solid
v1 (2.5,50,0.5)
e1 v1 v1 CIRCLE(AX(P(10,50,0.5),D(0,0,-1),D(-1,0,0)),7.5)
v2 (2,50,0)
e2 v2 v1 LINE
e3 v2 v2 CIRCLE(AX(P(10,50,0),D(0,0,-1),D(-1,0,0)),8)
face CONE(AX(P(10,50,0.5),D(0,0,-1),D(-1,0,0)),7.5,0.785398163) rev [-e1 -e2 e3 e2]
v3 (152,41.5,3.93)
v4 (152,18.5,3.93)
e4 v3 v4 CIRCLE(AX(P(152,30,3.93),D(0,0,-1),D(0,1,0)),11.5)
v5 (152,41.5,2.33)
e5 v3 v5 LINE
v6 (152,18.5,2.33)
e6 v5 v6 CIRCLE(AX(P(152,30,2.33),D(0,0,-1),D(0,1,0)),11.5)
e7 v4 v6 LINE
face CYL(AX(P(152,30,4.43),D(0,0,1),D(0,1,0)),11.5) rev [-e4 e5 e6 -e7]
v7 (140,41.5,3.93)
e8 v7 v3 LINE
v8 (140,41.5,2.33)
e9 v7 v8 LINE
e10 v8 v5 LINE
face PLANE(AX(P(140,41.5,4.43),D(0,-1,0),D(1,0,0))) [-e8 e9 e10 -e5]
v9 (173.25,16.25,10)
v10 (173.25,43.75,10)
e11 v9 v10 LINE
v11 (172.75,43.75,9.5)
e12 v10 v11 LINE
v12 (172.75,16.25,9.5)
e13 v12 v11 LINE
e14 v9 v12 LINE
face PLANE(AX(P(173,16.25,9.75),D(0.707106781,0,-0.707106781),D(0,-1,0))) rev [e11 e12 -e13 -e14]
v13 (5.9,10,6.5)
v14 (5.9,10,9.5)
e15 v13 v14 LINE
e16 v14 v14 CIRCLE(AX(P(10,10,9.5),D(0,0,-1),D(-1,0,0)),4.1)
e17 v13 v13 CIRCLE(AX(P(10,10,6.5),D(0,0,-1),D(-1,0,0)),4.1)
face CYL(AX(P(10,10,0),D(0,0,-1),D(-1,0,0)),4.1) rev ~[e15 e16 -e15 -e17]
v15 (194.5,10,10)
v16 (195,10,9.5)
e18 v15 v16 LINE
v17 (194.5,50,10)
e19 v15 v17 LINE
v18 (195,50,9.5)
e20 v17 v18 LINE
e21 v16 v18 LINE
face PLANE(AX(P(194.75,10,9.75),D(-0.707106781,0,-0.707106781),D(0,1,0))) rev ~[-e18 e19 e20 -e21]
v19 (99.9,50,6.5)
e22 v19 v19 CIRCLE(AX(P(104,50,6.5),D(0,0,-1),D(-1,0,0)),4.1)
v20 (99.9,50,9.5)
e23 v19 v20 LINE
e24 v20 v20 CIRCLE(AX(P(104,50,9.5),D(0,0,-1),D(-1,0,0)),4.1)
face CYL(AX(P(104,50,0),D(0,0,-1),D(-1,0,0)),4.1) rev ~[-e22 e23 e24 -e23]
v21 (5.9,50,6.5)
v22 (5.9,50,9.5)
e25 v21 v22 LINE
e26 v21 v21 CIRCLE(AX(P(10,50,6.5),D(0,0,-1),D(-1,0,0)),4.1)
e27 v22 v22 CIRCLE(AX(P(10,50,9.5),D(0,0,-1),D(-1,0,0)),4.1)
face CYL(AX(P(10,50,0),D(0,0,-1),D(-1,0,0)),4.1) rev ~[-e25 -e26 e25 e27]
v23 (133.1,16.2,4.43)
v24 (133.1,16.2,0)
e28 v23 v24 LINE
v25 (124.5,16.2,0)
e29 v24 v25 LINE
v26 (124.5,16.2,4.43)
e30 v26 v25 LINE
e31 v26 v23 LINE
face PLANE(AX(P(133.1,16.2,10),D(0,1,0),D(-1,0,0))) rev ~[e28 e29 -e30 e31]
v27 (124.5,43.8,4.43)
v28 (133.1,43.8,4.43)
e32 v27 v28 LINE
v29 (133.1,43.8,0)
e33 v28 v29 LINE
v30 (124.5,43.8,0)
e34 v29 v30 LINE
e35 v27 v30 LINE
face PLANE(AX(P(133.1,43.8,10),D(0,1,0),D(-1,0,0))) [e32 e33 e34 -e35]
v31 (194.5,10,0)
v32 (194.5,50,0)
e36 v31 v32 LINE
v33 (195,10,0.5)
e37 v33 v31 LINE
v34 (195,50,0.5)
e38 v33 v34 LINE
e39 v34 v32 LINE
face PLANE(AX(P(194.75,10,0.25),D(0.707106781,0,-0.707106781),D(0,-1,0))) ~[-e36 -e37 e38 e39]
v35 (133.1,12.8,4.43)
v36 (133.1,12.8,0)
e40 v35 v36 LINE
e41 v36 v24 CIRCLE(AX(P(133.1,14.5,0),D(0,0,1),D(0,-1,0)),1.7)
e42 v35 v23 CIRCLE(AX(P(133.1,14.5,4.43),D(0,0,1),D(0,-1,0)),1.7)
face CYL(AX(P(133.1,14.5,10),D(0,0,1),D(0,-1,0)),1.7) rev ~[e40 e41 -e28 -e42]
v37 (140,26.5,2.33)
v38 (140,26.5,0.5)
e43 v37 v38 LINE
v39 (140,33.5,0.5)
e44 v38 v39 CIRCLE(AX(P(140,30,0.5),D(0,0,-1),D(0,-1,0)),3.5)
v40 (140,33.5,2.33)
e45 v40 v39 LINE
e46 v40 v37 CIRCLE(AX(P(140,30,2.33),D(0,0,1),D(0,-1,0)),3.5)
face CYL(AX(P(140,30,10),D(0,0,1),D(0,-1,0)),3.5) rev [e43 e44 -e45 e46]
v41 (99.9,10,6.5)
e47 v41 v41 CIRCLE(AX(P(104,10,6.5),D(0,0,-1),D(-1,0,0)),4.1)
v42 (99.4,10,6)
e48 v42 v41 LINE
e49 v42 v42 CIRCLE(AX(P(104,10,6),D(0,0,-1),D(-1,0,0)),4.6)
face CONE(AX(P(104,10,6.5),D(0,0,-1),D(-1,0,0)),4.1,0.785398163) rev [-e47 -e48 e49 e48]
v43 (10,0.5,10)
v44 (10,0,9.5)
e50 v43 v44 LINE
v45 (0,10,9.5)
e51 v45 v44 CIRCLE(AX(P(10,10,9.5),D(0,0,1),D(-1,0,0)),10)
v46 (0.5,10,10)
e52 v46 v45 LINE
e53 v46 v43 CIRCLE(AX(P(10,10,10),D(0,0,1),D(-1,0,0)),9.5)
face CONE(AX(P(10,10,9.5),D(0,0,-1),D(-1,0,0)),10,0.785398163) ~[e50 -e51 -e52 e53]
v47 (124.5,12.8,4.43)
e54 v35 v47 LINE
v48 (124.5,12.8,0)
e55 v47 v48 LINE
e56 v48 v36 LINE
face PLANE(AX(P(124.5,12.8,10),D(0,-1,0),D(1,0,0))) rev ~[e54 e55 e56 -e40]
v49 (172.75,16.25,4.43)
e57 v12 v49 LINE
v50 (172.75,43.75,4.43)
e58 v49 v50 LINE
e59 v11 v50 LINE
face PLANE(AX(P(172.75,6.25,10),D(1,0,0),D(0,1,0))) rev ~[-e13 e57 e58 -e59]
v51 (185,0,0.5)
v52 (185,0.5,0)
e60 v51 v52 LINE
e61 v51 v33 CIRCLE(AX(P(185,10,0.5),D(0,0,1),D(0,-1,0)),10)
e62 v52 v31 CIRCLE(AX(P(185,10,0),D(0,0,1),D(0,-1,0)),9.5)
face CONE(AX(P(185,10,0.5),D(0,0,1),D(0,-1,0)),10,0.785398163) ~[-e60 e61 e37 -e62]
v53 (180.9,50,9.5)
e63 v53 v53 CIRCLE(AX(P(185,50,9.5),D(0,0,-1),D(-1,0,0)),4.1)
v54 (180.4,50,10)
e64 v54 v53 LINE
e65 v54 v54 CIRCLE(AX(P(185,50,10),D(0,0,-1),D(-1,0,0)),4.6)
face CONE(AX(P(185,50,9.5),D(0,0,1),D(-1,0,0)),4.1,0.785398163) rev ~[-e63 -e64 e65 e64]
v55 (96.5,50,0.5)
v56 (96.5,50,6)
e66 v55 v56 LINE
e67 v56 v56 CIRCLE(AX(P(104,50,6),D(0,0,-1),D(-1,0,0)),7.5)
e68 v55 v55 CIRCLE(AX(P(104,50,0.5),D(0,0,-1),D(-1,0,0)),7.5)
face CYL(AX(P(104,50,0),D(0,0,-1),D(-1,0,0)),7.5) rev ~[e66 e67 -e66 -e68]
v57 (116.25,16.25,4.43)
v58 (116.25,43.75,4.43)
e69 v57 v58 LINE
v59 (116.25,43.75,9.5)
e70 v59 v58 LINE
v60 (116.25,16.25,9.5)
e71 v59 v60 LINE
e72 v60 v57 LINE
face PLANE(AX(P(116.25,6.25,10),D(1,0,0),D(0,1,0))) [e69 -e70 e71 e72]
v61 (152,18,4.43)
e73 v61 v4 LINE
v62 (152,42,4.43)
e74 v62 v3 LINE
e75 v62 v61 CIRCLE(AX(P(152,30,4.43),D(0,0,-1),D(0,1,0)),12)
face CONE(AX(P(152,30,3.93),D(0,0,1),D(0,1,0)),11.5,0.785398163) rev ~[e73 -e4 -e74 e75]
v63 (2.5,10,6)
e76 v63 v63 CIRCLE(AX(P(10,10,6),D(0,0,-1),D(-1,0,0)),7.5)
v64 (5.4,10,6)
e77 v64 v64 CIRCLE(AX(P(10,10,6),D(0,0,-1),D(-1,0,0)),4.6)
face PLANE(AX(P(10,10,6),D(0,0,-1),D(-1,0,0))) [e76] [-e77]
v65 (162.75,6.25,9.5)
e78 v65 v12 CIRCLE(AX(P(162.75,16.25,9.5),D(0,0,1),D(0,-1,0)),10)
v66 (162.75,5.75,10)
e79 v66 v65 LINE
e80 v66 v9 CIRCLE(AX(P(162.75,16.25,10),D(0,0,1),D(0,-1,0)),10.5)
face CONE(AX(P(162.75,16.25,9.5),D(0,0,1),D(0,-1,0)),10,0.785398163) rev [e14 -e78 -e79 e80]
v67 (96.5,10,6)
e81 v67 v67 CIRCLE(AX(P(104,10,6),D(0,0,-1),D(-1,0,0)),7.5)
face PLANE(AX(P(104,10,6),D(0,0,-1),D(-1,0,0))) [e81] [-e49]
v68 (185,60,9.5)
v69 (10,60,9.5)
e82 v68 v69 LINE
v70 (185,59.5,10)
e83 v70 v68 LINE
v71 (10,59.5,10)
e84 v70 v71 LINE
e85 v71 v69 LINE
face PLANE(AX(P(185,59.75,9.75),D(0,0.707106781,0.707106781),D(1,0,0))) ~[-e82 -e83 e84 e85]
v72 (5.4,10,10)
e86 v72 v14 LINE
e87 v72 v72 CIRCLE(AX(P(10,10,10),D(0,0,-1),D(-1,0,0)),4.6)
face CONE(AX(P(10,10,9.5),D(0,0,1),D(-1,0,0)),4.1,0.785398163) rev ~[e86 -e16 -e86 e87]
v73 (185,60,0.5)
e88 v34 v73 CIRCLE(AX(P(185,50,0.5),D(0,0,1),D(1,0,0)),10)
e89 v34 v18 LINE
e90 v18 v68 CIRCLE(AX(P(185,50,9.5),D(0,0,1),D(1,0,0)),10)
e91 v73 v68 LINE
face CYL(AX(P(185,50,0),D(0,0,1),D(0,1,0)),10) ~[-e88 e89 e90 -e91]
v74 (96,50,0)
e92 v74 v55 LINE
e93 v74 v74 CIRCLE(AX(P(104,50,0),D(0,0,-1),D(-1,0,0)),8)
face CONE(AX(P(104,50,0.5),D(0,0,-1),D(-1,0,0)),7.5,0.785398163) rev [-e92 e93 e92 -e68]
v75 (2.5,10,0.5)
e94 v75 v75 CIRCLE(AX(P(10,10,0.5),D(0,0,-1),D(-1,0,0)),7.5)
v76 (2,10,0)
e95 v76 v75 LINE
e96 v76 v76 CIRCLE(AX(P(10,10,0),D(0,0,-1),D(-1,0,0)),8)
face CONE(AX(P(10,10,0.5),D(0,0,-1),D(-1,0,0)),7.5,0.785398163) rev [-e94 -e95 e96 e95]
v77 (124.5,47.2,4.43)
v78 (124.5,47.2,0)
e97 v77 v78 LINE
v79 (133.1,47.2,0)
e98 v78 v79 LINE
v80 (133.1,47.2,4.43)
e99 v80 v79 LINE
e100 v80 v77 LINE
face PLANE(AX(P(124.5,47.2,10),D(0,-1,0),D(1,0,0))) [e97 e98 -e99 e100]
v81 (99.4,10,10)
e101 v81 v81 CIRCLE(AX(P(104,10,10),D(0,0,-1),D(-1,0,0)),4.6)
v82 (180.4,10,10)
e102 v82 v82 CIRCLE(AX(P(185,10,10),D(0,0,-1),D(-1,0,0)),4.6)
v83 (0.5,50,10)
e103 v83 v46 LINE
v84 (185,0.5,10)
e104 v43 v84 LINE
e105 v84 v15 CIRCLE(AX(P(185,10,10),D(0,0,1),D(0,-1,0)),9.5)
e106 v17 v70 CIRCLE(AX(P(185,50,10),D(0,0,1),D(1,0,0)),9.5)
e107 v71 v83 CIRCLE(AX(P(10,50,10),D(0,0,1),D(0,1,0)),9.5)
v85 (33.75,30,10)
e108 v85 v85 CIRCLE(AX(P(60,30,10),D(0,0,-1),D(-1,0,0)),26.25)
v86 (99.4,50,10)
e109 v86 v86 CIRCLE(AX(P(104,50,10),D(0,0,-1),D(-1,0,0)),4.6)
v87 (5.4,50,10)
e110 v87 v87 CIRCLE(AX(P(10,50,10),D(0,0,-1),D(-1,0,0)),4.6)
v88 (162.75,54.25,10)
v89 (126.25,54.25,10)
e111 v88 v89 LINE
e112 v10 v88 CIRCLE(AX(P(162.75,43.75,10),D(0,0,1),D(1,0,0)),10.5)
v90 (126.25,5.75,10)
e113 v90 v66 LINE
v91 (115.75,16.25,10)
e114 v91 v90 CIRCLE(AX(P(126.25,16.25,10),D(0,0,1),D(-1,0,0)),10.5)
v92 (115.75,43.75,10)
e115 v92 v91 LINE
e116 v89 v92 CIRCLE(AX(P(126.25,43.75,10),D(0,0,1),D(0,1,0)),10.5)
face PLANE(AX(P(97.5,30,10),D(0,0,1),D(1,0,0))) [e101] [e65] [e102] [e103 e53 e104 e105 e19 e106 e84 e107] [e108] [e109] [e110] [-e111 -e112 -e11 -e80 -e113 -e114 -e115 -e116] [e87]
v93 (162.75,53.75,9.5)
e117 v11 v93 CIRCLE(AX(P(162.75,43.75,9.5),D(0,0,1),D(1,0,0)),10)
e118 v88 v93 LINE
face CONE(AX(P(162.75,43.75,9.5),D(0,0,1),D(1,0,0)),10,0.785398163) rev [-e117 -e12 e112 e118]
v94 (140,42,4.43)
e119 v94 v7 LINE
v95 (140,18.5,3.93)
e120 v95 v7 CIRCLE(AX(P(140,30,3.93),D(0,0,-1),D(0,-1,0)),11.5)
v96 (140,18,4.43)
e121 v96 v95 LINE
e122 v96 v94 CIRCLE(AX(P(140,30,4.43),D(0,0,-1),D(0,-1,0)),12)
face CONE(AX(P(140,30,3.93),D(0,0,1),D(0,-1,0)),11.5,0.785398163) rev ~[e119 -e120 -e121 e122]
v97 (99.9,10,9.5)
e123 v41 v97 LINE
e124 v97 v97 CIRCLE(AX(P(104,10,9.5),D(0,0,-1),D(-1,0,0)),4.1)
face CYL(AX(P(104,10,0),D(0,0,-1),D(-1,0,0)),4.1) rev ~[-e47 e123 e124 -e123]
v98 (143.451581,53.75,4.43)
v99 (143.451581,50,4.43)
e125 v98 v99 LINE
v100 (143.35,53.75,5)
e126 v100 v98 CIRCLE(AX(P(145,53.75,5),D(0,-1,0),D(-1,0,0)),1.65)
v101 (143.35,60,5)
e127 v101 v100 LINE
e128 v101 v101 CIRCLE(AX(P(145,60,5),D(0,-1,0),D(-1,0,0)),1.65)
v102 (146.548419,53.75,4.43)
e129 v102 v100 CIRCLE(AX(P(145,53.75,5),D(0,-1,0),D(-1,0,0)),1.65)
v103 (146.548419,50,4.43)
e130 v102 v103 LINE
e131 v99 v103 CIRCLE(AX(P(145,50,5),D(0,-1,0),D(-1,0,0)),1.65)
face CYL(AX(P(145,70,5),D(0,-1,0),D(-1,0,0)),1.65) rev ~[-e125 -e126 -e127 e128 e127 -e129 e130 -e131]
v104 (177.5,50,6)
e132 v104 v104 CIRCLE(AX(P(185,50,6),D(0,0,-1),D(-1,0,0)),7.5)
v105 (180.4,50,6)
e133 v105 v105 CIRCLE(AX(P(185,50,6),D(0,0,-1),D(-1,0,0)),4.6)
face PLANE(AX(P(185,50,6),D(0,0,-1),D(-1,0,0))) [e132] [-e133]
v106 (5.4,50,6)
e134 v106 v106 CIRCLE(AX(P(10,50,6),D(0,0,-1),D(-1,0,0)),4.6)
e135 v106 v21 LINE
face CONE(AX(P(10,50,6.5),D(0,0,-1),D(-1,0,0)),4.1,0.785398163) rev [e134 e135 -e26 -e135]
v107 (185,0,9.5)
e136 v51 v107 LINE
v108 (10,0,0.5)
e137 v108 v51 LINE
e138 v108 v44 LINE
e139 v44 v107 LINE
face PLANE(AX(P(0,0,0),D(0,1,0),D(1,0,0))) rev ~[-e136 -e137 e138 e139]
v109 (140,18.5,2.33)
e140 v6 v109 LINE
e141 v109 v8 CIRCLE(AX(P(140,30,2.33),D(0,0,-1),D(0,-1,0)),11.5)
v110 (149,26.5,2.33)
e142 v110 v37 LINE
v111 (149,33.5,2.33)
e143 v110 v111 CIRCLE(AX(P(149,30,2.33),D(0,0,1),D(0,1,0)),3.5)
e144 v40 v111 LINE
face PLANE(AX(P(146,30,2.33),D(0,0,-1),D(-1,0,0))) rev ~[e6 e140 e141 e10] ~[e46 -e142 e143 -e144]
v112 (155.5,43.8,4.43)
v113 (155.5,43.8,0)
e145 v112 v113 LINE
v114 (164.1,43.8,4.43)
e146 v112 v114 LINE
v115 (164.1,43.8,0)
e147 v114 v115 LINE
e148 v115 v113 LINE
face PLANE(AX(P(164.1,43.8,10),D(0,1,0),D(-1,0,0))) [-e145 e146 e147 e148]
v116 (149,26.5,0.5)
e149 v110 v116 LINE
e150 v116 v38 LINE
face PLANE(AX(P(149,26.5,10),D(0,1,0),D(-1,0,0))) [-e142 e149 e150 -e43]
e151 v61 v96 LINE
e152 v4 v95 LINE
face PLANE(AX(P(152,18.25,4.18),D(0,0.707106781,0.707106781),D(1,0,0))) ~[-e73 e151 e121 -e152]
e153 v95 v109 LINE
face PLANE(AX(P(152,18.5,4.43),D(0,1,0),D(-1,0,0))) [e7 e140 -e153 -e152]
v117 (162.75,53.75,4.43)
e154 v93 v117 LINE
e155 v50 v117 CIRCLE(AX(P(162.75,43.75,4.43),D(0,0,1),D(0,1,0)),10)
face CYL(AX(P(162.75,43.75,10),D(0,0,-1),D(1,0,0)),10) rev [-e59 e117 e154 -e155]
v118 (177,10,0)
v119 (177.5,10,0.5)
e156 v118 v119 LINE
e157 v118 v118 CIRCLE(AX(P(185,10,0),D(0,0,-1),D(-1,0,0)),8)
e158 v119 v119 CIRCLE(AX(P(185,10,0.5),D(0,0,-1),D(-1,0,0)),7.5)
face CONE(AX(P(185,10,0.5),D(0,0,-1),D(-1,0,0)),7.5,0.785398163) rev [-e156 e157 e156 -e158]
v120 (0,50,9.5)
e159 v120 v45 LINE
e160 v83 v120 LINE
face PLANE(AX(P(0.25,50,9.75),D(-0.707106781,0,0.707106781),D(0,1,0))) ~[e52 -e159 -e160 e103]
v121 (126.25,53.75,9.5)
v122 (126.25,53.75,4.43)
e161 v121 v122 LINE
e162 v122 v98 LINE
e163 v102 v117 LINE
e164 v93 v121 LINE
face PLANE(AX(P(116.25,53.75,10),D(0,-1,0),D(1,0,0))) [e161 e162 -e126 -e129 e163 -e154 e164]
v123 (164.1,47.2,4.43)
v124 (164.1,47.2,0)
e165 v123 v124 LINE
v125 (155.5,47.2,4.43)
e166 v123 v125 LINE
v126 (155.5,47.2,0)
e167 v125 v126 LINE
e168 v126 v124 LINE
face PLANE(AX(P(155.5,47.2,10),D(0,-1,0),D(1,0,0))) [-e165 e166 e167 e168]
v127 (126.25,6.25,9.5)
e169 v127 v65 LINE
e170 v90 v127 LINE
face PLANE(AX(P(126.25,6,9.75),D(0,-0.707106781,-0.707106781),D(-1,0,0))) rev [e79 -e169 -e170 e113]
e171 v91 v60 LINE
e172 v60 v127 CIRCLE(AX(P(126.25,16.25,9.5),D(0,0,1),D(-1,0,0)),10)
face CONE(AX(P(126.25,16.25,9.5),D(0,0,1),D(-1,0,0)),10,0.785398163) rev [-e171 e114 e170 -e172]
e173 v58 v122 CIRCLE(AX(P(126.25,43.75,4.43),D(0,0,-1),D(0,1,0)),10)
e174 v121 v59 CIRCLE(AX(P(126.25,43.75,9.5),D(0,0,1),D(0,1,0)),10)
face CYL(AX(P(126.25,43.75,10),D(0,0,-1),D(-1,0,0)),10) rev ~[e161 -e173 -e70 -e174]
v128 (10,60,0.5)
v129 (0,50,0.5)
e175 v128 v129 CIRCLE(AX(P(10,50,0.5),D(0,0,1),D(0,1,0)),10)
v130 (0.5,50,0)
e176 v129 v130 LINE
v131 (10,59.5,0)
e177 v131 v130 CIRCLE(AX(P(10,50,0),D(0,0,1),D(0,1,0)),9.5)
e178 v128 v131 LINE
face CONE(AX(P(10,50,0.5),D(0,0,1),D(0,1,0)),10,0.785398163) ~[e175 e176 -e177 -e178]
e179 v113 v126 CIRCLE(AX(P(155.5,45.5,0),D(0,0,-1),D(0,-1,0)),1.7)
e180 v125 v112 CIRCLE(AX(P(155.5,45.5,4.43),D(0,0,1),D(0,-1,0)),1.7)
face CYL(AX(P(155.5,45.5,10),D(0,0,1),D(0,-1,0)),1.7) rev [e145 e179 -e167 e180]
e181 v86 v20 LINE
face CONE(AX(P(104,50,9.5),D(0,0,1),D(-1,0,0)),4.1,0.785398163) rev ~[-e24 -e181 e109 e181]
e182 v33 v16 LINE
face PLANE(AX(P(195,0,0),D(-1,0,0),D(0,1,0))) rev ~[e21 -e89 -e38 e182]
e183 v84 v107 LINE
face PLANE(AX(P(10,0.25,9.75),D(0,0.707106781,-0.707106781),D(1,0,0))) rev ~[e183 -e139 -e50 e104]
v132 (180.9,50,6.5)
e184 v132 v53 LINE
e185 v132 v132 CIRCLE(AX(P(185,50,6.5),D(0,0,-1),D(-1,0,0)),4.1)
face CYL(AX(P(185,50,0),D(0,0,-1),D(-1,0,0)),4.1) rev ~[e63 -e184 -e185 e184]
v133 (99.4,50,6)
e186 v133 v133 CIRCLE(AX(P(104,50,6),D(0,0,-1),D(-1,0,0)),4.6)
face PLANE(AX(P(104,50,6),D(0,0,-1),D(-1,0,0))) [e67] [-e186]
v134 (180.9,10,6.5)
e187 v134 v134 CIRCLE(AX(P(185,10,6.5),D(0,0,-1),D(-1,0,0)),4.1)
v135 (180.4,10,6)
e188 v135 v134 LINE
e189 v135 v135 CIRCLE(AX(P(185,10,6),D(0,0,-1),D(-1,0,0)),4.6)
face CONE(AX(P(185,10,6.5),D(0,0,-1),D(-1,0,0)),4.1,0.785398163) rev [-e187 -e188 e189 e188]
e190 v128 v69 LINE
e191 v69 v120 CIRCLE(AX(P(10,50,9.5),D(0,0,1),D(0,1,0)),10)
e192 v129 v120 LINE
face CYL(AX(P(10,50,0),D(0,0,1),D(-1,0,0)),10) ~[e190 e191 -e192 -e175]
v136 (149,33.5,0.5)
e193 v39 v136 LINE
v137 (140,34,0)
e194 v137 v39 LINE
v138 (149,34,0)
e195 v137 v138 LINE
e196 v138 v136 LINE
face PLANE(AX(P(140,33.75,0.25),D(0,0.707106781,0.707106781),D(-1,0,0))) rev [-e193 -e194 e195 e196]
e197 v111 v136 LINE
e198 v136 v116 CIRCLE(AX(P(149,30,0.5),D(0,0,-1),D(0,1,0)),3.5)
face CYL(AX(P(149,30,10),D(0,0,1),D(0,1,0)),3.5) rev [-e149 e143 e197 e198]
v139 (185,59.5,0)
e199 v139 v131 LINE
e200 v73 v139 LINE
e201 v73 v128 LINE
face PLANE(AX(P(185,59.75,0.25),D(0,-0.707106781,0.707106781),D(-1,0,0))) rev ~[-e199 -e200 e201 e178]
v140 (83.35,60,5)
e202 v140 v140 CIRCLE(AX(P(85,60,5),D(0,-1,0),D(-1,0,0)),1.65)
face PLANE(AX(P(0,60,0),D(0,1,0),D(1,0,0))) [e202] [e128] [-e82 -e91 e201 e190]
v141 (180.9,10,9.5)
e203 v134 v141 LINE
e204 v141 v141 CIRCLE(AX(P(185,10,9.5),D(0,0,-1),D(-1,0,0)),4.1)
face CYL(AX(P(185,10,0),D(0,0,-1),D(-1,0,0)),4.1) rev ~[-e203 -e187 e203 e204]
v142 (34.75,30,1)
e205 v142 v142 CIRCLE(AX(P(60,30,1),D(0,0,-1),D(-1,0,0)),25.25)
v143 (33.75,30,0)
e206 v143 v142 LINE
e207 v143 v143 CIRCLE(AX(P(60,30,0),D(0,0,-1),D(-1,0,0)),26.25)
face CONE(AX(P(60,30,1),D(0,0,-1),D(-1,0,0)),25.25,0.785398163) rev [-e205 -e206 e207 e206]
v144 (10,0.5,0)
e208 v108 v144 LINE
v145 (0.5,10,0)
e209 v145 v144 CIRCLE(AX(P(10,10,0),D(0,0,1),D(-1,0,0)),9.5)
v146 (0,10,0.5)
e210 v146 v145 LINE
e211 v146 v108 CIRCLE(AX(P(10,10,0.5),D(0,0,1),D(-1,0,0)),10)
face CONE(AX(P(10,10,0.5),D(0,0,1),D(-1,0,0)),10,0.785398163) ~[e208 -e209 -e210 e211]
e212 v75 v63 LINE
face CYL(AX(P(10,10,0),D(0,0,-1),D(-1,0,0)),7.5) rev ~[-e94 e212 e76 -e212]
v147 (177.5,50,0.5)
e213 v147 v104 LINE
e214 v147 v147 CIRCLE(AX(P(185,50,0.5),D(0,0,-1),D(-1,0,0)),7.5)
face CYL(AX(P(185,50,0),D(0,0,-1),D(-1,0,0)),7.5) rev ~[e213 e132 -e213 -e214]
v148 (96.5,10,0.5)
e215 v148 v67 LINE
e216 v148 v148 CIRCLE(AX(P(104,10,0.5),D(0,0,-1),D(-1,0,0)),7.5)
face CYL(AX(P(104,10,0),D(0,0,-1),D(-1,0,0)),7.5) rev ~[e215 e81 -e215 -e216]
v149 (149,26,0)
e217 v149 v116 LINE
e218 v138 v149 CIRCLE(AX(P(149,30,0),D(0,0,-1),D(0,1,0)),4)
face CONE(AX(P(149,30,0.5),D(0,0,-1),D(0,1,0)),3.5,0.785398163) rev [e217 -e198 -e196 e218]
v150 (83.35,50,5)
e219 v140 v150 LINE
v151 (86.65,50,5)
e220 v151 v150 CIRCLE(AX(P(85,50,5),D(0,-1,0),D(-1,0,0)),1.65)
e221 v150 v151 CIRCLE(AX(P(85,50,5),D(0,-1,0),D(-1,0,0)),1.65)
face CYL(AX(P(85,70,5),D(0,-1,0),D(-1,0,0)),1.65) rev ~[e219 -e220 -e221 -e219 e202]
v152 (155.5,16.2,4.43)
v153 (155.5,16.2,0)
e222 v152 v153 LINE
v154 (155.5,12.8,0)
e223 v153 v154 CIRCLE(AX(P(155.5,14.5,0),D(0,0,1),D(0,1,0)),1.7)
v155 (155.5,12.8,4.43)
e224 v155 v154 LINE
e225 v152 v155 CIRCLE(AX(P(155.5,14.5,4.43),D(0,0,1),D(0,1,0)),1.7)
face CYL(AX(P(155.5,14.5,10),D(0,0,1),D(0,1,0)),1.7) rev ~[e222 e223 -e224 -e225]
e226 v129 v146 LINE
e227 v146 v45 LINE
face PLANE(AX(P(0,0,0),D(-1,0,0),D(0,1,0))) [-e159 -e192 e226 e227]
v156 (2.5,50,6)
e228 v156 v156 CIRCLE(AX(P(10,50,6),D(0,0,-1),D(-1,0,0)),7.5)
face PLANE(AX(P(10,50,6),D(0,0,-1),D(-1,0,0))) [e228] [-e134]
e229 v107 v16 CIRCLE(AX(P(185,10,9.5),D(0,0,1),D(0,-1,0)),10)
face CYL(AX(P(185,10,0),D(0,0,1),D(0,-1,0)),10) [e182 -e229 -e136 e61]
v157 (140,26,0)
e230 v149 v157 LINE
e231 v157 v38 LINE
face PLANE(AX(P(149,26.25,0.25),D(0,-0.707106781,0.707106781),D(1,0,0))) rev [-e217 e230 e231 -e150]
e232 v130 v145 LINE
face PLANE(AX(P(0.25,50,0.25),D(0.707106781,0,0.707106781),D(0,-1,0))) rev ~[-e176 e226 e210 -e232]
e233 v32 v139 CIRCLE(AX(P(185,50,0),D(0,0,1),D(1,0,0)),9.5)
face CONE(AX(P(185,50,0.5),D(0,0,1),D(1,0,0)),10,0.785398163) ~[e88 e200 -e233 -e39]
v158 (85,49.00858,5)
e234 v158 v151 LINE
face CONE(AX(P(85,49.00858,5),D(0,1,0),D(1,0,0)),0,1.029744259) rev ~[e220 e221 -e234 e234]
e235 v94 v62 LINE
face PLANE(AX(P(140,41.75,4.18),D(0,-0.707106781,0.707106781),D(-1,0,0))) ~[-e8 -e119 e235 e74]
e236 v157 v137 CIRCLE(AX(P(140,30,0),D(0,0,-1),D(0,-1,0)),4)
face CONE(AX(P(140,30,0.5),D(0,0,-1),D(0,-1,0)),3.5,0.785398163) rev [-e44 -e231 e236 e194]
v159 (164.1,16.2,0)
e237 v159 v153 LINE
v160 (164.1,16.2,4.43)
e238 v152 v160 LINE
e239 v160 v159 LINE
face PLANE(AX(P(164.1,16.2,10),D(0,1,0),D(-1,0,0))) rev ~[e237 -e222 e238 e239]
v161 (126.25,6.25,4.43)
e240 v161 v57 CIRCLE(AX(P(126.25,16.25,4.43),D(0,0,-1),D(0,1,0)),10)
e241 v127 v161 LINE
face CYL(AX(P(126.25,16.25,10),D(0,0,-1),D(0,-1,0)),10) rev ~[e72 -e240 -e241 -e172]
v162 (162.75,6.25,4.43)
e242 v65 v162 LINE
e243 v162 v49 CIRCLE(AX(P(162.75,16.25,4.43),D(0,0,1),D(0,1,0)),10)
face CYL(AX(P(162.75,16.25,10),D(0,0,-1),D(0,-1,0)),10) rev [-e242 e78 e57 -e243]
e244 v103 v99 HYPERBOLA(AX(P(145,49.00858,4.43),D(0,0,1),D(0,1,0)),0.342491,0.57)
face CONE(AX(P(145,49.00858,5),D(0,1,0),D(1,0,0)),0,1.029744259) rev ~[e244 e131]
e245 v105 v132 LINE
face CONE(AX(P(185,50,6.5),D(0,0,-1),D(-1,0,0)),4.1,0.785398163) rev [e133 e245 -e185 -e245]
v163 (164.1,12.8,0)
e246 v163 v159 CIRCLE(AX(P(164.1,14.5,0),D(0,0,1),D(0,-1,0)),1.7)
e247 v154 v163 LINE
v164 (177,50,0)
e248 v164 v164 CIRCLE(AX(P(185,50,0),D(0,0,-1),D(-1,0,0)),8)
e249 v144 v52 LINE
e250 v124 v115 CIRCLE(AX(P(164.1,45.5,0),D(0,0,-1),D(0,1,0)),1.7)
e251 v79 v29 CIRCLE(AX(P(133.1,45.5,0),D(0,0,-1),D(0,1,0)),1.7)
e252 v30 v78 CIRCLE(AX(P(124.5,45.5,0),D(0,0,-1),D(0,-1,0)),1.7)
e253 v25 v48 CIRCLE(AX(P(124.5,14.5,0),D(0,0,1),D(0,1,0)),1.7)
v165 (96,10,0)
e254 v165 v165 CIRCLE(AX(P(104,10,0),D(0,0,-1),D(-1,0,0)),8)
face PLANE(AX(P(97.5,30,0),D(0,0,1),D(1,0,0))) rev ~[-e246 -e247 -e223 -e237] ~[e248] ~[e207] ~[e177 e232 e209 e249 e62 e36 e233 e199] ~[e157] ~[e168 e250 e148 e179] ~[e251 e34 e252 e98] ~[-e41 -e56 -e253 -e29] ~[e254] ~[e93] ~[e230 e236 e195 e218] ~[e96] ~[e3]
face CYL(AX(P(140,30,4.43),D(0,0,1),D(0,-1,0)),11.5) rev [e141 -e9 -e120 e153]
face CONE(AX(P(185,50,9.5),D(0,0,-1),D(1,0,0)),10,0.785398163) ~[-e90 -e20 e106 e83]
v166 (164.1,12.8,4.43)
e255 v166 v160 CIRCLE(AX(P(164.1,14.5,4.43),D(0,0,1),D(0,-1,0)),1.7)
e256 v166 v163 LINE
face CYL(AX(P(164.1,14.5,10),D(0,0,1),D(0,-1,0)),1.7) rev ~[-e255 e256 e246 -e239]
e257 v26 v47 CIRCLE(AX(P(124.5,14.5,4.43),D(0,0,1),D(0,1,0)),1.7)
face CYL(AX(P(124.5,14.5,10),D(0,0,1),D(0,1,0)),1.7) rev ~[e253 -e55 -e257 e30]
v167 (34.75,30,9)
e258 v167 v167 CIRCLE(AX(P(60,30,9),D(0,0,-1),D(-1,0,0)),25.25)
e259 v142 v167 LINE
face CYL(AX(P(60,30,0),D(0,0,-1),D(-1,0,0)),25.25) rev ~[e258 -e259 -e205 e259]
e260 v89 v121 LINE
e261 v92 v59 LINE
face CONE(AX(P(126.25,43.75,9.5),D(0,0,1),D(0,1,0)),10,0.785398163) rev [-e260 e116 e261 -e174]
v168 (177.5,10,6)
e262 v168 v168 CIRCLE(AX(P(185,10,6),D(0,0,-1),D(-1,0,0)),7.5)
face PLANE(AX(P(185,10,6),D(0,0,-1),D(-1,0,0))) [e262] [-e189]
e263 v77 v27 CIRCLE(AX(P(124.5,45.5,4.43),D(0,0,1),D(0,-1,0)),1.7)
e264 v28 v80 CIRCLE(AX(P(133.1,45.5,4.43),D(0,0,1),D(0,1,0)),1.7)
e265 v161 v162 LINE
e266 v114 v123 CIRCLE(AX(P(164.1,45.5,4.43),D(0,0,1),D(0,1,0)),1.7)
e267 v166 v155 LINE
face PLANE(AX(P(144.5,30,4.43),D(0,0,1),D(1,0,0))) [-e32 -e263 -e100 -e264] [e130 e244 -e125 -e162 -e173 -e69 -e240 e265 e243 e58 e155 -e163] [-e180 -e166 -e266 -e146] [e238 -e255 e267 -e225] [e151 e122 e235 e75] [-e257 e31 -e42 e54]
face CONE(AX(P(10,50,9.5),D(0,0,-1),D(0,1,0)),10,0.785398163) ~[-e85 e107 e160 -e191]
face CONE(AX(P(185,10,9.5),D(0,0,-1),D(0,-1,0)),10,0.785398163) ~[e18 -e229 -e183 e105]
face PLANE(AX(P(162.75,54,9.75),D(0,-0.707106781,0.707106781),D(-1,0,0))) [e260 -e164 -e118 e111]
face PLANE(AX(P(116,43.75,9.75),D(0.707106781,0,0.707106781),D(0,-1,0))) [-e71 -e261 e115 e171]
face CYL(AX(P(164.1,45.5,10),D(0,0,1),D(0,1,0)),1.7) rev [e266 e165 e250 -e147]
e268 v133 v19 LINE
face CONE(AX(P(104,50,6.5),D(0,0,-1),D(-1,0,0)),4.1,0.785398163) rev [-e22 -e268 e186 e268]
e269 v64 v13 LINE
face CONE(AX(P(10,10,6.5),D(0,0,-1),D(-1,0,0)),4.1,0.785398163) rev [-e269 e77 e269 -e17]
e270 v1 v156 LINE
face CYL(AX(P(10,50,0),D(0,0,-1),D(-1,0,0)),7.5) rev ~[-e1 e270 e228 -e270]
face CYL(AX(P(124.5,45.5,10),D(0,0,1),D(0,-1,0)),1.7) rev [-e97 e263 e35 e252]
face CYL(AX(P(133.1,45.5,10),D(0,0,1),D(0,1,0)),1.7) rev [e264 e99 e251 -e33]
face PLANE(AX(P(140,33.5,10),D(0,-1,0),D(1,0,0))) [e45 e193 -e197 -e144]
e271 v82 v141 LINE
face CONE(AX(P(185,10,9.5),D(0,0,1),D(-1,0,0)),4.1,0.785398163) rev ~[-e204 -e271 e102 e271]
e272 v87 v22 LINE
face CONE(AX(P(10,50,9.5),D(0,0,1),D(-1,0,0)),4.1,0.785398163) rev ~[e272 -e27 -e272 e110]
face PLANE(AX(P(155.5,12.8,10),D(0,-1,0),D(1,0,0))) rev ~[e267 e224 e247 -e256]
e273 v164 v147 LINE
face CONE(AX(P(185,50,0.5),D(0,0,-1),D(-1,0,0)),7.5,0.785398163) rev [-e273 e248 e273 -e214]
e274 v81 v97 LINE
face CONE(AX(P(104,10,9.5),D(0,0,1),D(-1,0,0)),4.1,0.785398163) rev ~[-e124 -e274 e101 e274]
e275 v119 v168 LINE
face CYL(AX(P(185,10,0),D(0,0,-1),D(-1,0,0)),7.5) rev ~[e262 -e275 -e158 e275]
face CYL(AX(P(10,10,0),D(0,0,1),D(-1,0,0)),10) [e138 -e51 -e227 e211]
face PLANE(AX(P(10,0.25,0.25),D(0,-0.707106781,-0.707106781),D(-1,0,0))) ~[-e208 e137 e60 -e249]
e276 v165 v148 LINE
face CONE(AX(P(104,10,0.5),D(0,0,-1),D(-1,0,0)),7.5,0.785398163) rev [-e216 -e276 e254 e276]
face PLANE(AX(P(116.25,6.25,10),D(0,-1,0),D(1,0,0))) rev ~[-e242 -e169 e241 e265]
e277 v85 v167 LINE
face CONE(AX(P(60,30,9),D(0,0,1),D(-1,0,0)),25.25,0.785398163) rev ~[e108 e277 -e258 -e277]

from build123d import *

# Parameters (mm, degrees)
SKICA1_W                  = 195
SKICA1_H                  = 60
P_IDAT_VYSUNUT_M1_DEPTH   = 10
ODEBRAT_VYSUNUT_M1_DEPTH  = 10
ODEBRAT_VYSUNUT_M3_DEPTH  = 2
SKICA6_R                  = 25.25
ODEBRAT_VYSUNUT_M5_DEPTH  = 10
SKICA8_W                  = 56.5
SKICA8_H                  = 47.5
ODEBRAT_VYSUNUT_M7_DEPTH  = 5.57
ODEBRAT_VYSUNUT_M8_DEPTH  = 2.1
ZKOSEN_2_SIZE             = 1
ZKOSEN_4_SIZE             = 0.5
ZAOBLIT2_R                = 10
SKICA12_R                 = 4.1
ODEBRAT_VYSUNUT_M10_DEPTH = 10
SKICA13_R                 = 7.5
ODEBRAT_VYSUNUT_M11_DEPTH = 6
ZKOSEN_6_SIZE             = 0.5
ZAOBLIT4_R                = 10
ZKOSEN_7_SIZE             = 0.5
ZKOSEN_8_SIZE             = 0.5
M4_Z_VIT2_D               = 3.3
M4_Z_VIT2_DEPTH           = 10
M4_Z_VIT2_TIP             = 0.991420021


with BuildPart() as part:
    # Skica1 → Přidat vysunutím1 (new body)
    with BuildSketch(Plane.XY):
        with Locations((97.5, 30)):
            Rectangle(SKICA1_W, SKICA1_H)
    extrude(amount=P_IDAT_VYSUNUT_M1_DEPTH)

    # Skica2 → Odebrat vysunutím1 (cut)
    with BuildSketch(Plane.XY.offset(10)):
        with BuildLine():
            Line((133.1, 43.8), (124.5, 43.8))
            ThreePointArc((124.5, 43.8), (122.8, 45.5), (124.5, 47.2))
            Line((124.5, 47.2), (133.1, 47.2))
            ThreePointArc((133.1, 47.2), (134.8, 45.5), (133.1, 43.8))
        make_face()
        with BuildLine():
            Line((164.1, 43.8), (155.5, 43.8))
            ThreePointArc((155.5, 43.8), (153.8, 45.5), (155.5, 47.2))
            Line((155.5, 47.2), (164.1, 47.2))
            ThreePointArc((164.1, 47.2), (165.8, 45.5), (164.1, 43.8))
        make_face()
        with BuildLine():
            Line((133.1, 16.2), (124.5, 16.2))
            ThreePointArc((124.5, 16.2), (122.8, 14.5), (124.5, 12.8))
            Line((124.5, 12.8), (133.1, 12.8))
            ThreePointArc((133.1, 12.8), (134.8, 14.5), (133.1, 16.2))
        make_face()
        with BuildLine():
            Line((164.1, 16.2), (155.5, 16.2))
            ThreePointArc((155.5, 16.2), (153.8, 14.5), (155.5, 12.8))
            Line((155.5, 12.8), (164.1, 12.8))
            ThreePointArc((164.1, 12.8), (165.8, 14.5), (164.1, 16.2))
        make_face()
        with BuildLine():
            Line((149, 26.5), (140, 26.5))
            ThreePointArc((140, 26.5), (136.5, 30), (140, 33.5))
            Line((140, 33.5), (149, 33.5))
            ThreePointArc((149, 33.5), (152.5, 30), (149, 26.5))
        make_face()
    extrude(amount=-ODEBRAT_VYSUNUT_M1_DEPTH, mode=Mode.SUBTRACT)

    # Skica5 → Odebrat vysunutím3 (cut)
    with BuildSketch(Plane.XY.offset(10)):
        with BuildLine():
            Line((148, 19), (140, 19))
            ThreePointArc((140, 19), (129, 30), (140, 41))
            Line((140, 41), (148, 41))
            ThreePointArc((148, 41), (159, 30), (148, 19))
        make_face()
    extrude(amount=-ODEBRAT_VYSUNUT_M3_DEPTH, mode=Mode.SUBTRACT)

    # Skica6 → Odebrat vysunutím5 (cut)
    with BuildSketch(Plane(origin=(0, 0, 0), x_dir=(-1, 0, 0), z_dir=(0, 0, -1))):
        with Locations((-60, 30)):
            Circle(SKICA6_R)
    extrude(amount=-ODEBRAT_VYSUNUT_M5_DEPTH, mode=Mode.SUBTRACT)

    # Skica8 → Odebrat vysunutím7 (cut)
    with BuildSketch(Plane.XY.offset(10)):
        with Locations((144.5, 30)):
            Rectangle(SKICA8_W, SKICA8_H)
    extrude(amount=-ODEBRAT_VYSUNUT_M7_DEPTH, mode=Mode.SUBTRACT)

    # Skica9 → Odebrat vysunutím8 (cut)
    with BuildSketch(Plane.XY.offset(4.43)):
        with BuildLine():
            Line((152, 18.5), (140, 18.5))
            ThreePointArc((140, 18.5), (128.5, 30), (140, 41.5))
            Line((140, 41.5), (152, 41.5))
            ThreePointArc((152, 41.5), (163.5, 30), (152, 18.5))
        make_face()
    extrude(amount=-ODEBRAT_VYSUNUT_M8_DEPTH, mode=Mode.SUBTRACT)

    # Zkosení2
    zkosen_2_edges = [part.edges().sort_by_distance(p)[0] for p in [
        (85.25, 30, 0),
        (85.25, 30, 10),
    ]]
    chamfer(zkosen_2_edges, length=ZKOSEN_2_SIZE)

    # Zkosení4
    zkosen_4_edges = [part.edges().sort_by_distance(p)[0] for p in [
        (144.5, 33.5, 0),
        (136.5, 30, 0),
        (144.5, 26.5, 0),
        (152.5, 30, 0),
    ]]
    chamfer(zkosen_4_edges, length=ZKOSEN_4_SIZE)

    # Zaoblit2
    zaoblit2_edges = [part.edges().sort_by_distance(p)[0] for p in [
        (0, 60, 5),
        (195, 60, 5),
        (195, 0, 5),
        (0, 0, 5),
    ]]
    fillet(zaoblit2_edges, radius=ZAOBLIT2_R)

    # Skica12 → Odebrat vysunutím10 (cut)
    with BuildSketch(Plane(origin=(0, 0, 0), x_dir=(-1, 0, 0), z_dir=(0, 0, -1))):
        with Locations((-10, 50)):
            Circle(SKICA12_R)
        with Locations((-10, 10)):
            Circle(SKICA12_R)
        with Locations((-104, 50)):
            Circle(SKICA12_R)
        with Locations((-104, 10)):
            Circle(SKICA12_R)
        with Locations((-185, 50)):
            Circle(SKICA12_R)
        with Locations((-185, 10)):
            Circle(SKICA12_R)
    extrude(amount=-ODEBRAT_VYSUNUT_M10_DEPTH, mode=Mode.SUBTRACT)

    # Skica13 → Odebrat vysunutím11 (cut)
    with BuildSketch(Plane(origin=(0, 0, 0), x_dir=(-1, 0, 0), z_dir=(0, 0, -1))):
        with Locations((-10, 50)):
            Circle(SKICA13_R)
        with Locations((-10, 10)):
            Circle(SKICA13_R)
        with Locations((-104, 50)):
            Circle(SKICA13_R)
        with Locations((-104, 10)):
            Circle(SKICA13_R)
        with Locations((-185, 50)):
            Circle(SKICA13_R)
        with Locations((-185, 10)):
            Circle(SKICA13_R)
    extrude(amount=-ODEBRAT_VYSUNUT_M11_DEPTH, mode=Mode.SUBTRACT)

    # Zkosení6
    zkosen_6_edges = [part.edges().sort_by_distance(p)[0] for p in [
        (189.1, 50, 10),
        (108.1, 10, 10),
        (108.1, 50, 10),
        (14.1, 10, 10),
        (189.1, 10, 10),
        (14.1, 50, 10),
        (192.5, 50, 0),
        (189.1, 50, 6),
        (111.5, 10, 0),
        (108.1, 10, 6),
        (111.5, 50, 0),
        (108.1, 50, 6),
        (17.5, 10, 0),
        (14.1, 10, 6),
        (192.5, 10, 0),
        (189.1, 10, 6),
        (17.5, 50, 0),
        (14.1, 50, 6),
    ]]
    chamfer(zkosen_6_edges, length=ZKOSEN_6_SIZE)

    # Zaoblit4
    zaoblit4_edges = [part.edges().sort_by_distance(p)[0] for p in [
        (116.25, 6.25, 7.215),
        (116.25, 53.75, 7.215),
        (172.75, 53.75, 7.215),
        (172.75, 6.25, 7.215),
    ]]
    fillet(zaoblit4_edges, radius=ZAOBLIT4_R)

    # Zkosení7
    zkosen_7_edges = [part.edges().sort_by_distance(p)[0] for p in [
        (195, 30, 0),
        (195, 30, 10),
        (0, 30, 0),
        (97.5, 60, 0),
        (97.5, 0, 0),
        (2.928932188, 57.071067812, 0),
        (2.928932188, 2.928932188, 0),
        (192.071067812, 57.071067812, 0),
        (192.071067812, 2.928932188, 0),
        (97.5, 0, 10),
        (0, 30, 10),
        (97.5, 60, 10),
        (2.928932188, 57.071067812, 10),
        (2.928932188, 2.928932188, 10),
        (192.071067812, 57.071067812, 10),
        (192.071067812, 2.928932188, 10),
    ]]
    chamfer(zkosen_7_edges, length=ZKOSEN_7_SIZE)

    # Zkosení8
    zkosen_8_edges = [part.edges().sort_by_distance(p)[0] for p in [
        (163.5, 30, 4.43),
        (146, 41.5, 4.43),
        (128.5, 30, 4.43),
        (146, 18.5, 4.43),
        (144.5, 6.25, 10),
        (116.25, 30, 10),
        (172.75, 30, 10),
        (144.5, 53.75, 10),
        (119.178932188, 9.178932188, 10),
        (169.821067812, 9.178932188, 10),
        (169.821067812, 50.821067812, 10),
        (119.178932188, 50.821067812, 10),
    ]]
    chamfer(zkosen_8_edges, length=ZKOSEN_8_SIZE)

    # M4 závit2
    with Locations(Plane(origin=(0, 60, 0), x_dir=(1, 0, 0), z_dir=(0, 1, 0))):
        with Locations((85, -5), (145, -5)):
            Hole(M4_Z_VIT2_D / 2, depth=M4_Z_VIT2_DEPTH)
            with Locations((0, 0, -(M4_Z_VIT2_DEPTH + M4_Z_VIT2_TIP / 2))):  # 118° drill point
                Cone(0, M4_Z_VIT2_D / 2, M4_Z_VIT2_TIP, mode=Mode.SUBTRACT)


solid = part.part
